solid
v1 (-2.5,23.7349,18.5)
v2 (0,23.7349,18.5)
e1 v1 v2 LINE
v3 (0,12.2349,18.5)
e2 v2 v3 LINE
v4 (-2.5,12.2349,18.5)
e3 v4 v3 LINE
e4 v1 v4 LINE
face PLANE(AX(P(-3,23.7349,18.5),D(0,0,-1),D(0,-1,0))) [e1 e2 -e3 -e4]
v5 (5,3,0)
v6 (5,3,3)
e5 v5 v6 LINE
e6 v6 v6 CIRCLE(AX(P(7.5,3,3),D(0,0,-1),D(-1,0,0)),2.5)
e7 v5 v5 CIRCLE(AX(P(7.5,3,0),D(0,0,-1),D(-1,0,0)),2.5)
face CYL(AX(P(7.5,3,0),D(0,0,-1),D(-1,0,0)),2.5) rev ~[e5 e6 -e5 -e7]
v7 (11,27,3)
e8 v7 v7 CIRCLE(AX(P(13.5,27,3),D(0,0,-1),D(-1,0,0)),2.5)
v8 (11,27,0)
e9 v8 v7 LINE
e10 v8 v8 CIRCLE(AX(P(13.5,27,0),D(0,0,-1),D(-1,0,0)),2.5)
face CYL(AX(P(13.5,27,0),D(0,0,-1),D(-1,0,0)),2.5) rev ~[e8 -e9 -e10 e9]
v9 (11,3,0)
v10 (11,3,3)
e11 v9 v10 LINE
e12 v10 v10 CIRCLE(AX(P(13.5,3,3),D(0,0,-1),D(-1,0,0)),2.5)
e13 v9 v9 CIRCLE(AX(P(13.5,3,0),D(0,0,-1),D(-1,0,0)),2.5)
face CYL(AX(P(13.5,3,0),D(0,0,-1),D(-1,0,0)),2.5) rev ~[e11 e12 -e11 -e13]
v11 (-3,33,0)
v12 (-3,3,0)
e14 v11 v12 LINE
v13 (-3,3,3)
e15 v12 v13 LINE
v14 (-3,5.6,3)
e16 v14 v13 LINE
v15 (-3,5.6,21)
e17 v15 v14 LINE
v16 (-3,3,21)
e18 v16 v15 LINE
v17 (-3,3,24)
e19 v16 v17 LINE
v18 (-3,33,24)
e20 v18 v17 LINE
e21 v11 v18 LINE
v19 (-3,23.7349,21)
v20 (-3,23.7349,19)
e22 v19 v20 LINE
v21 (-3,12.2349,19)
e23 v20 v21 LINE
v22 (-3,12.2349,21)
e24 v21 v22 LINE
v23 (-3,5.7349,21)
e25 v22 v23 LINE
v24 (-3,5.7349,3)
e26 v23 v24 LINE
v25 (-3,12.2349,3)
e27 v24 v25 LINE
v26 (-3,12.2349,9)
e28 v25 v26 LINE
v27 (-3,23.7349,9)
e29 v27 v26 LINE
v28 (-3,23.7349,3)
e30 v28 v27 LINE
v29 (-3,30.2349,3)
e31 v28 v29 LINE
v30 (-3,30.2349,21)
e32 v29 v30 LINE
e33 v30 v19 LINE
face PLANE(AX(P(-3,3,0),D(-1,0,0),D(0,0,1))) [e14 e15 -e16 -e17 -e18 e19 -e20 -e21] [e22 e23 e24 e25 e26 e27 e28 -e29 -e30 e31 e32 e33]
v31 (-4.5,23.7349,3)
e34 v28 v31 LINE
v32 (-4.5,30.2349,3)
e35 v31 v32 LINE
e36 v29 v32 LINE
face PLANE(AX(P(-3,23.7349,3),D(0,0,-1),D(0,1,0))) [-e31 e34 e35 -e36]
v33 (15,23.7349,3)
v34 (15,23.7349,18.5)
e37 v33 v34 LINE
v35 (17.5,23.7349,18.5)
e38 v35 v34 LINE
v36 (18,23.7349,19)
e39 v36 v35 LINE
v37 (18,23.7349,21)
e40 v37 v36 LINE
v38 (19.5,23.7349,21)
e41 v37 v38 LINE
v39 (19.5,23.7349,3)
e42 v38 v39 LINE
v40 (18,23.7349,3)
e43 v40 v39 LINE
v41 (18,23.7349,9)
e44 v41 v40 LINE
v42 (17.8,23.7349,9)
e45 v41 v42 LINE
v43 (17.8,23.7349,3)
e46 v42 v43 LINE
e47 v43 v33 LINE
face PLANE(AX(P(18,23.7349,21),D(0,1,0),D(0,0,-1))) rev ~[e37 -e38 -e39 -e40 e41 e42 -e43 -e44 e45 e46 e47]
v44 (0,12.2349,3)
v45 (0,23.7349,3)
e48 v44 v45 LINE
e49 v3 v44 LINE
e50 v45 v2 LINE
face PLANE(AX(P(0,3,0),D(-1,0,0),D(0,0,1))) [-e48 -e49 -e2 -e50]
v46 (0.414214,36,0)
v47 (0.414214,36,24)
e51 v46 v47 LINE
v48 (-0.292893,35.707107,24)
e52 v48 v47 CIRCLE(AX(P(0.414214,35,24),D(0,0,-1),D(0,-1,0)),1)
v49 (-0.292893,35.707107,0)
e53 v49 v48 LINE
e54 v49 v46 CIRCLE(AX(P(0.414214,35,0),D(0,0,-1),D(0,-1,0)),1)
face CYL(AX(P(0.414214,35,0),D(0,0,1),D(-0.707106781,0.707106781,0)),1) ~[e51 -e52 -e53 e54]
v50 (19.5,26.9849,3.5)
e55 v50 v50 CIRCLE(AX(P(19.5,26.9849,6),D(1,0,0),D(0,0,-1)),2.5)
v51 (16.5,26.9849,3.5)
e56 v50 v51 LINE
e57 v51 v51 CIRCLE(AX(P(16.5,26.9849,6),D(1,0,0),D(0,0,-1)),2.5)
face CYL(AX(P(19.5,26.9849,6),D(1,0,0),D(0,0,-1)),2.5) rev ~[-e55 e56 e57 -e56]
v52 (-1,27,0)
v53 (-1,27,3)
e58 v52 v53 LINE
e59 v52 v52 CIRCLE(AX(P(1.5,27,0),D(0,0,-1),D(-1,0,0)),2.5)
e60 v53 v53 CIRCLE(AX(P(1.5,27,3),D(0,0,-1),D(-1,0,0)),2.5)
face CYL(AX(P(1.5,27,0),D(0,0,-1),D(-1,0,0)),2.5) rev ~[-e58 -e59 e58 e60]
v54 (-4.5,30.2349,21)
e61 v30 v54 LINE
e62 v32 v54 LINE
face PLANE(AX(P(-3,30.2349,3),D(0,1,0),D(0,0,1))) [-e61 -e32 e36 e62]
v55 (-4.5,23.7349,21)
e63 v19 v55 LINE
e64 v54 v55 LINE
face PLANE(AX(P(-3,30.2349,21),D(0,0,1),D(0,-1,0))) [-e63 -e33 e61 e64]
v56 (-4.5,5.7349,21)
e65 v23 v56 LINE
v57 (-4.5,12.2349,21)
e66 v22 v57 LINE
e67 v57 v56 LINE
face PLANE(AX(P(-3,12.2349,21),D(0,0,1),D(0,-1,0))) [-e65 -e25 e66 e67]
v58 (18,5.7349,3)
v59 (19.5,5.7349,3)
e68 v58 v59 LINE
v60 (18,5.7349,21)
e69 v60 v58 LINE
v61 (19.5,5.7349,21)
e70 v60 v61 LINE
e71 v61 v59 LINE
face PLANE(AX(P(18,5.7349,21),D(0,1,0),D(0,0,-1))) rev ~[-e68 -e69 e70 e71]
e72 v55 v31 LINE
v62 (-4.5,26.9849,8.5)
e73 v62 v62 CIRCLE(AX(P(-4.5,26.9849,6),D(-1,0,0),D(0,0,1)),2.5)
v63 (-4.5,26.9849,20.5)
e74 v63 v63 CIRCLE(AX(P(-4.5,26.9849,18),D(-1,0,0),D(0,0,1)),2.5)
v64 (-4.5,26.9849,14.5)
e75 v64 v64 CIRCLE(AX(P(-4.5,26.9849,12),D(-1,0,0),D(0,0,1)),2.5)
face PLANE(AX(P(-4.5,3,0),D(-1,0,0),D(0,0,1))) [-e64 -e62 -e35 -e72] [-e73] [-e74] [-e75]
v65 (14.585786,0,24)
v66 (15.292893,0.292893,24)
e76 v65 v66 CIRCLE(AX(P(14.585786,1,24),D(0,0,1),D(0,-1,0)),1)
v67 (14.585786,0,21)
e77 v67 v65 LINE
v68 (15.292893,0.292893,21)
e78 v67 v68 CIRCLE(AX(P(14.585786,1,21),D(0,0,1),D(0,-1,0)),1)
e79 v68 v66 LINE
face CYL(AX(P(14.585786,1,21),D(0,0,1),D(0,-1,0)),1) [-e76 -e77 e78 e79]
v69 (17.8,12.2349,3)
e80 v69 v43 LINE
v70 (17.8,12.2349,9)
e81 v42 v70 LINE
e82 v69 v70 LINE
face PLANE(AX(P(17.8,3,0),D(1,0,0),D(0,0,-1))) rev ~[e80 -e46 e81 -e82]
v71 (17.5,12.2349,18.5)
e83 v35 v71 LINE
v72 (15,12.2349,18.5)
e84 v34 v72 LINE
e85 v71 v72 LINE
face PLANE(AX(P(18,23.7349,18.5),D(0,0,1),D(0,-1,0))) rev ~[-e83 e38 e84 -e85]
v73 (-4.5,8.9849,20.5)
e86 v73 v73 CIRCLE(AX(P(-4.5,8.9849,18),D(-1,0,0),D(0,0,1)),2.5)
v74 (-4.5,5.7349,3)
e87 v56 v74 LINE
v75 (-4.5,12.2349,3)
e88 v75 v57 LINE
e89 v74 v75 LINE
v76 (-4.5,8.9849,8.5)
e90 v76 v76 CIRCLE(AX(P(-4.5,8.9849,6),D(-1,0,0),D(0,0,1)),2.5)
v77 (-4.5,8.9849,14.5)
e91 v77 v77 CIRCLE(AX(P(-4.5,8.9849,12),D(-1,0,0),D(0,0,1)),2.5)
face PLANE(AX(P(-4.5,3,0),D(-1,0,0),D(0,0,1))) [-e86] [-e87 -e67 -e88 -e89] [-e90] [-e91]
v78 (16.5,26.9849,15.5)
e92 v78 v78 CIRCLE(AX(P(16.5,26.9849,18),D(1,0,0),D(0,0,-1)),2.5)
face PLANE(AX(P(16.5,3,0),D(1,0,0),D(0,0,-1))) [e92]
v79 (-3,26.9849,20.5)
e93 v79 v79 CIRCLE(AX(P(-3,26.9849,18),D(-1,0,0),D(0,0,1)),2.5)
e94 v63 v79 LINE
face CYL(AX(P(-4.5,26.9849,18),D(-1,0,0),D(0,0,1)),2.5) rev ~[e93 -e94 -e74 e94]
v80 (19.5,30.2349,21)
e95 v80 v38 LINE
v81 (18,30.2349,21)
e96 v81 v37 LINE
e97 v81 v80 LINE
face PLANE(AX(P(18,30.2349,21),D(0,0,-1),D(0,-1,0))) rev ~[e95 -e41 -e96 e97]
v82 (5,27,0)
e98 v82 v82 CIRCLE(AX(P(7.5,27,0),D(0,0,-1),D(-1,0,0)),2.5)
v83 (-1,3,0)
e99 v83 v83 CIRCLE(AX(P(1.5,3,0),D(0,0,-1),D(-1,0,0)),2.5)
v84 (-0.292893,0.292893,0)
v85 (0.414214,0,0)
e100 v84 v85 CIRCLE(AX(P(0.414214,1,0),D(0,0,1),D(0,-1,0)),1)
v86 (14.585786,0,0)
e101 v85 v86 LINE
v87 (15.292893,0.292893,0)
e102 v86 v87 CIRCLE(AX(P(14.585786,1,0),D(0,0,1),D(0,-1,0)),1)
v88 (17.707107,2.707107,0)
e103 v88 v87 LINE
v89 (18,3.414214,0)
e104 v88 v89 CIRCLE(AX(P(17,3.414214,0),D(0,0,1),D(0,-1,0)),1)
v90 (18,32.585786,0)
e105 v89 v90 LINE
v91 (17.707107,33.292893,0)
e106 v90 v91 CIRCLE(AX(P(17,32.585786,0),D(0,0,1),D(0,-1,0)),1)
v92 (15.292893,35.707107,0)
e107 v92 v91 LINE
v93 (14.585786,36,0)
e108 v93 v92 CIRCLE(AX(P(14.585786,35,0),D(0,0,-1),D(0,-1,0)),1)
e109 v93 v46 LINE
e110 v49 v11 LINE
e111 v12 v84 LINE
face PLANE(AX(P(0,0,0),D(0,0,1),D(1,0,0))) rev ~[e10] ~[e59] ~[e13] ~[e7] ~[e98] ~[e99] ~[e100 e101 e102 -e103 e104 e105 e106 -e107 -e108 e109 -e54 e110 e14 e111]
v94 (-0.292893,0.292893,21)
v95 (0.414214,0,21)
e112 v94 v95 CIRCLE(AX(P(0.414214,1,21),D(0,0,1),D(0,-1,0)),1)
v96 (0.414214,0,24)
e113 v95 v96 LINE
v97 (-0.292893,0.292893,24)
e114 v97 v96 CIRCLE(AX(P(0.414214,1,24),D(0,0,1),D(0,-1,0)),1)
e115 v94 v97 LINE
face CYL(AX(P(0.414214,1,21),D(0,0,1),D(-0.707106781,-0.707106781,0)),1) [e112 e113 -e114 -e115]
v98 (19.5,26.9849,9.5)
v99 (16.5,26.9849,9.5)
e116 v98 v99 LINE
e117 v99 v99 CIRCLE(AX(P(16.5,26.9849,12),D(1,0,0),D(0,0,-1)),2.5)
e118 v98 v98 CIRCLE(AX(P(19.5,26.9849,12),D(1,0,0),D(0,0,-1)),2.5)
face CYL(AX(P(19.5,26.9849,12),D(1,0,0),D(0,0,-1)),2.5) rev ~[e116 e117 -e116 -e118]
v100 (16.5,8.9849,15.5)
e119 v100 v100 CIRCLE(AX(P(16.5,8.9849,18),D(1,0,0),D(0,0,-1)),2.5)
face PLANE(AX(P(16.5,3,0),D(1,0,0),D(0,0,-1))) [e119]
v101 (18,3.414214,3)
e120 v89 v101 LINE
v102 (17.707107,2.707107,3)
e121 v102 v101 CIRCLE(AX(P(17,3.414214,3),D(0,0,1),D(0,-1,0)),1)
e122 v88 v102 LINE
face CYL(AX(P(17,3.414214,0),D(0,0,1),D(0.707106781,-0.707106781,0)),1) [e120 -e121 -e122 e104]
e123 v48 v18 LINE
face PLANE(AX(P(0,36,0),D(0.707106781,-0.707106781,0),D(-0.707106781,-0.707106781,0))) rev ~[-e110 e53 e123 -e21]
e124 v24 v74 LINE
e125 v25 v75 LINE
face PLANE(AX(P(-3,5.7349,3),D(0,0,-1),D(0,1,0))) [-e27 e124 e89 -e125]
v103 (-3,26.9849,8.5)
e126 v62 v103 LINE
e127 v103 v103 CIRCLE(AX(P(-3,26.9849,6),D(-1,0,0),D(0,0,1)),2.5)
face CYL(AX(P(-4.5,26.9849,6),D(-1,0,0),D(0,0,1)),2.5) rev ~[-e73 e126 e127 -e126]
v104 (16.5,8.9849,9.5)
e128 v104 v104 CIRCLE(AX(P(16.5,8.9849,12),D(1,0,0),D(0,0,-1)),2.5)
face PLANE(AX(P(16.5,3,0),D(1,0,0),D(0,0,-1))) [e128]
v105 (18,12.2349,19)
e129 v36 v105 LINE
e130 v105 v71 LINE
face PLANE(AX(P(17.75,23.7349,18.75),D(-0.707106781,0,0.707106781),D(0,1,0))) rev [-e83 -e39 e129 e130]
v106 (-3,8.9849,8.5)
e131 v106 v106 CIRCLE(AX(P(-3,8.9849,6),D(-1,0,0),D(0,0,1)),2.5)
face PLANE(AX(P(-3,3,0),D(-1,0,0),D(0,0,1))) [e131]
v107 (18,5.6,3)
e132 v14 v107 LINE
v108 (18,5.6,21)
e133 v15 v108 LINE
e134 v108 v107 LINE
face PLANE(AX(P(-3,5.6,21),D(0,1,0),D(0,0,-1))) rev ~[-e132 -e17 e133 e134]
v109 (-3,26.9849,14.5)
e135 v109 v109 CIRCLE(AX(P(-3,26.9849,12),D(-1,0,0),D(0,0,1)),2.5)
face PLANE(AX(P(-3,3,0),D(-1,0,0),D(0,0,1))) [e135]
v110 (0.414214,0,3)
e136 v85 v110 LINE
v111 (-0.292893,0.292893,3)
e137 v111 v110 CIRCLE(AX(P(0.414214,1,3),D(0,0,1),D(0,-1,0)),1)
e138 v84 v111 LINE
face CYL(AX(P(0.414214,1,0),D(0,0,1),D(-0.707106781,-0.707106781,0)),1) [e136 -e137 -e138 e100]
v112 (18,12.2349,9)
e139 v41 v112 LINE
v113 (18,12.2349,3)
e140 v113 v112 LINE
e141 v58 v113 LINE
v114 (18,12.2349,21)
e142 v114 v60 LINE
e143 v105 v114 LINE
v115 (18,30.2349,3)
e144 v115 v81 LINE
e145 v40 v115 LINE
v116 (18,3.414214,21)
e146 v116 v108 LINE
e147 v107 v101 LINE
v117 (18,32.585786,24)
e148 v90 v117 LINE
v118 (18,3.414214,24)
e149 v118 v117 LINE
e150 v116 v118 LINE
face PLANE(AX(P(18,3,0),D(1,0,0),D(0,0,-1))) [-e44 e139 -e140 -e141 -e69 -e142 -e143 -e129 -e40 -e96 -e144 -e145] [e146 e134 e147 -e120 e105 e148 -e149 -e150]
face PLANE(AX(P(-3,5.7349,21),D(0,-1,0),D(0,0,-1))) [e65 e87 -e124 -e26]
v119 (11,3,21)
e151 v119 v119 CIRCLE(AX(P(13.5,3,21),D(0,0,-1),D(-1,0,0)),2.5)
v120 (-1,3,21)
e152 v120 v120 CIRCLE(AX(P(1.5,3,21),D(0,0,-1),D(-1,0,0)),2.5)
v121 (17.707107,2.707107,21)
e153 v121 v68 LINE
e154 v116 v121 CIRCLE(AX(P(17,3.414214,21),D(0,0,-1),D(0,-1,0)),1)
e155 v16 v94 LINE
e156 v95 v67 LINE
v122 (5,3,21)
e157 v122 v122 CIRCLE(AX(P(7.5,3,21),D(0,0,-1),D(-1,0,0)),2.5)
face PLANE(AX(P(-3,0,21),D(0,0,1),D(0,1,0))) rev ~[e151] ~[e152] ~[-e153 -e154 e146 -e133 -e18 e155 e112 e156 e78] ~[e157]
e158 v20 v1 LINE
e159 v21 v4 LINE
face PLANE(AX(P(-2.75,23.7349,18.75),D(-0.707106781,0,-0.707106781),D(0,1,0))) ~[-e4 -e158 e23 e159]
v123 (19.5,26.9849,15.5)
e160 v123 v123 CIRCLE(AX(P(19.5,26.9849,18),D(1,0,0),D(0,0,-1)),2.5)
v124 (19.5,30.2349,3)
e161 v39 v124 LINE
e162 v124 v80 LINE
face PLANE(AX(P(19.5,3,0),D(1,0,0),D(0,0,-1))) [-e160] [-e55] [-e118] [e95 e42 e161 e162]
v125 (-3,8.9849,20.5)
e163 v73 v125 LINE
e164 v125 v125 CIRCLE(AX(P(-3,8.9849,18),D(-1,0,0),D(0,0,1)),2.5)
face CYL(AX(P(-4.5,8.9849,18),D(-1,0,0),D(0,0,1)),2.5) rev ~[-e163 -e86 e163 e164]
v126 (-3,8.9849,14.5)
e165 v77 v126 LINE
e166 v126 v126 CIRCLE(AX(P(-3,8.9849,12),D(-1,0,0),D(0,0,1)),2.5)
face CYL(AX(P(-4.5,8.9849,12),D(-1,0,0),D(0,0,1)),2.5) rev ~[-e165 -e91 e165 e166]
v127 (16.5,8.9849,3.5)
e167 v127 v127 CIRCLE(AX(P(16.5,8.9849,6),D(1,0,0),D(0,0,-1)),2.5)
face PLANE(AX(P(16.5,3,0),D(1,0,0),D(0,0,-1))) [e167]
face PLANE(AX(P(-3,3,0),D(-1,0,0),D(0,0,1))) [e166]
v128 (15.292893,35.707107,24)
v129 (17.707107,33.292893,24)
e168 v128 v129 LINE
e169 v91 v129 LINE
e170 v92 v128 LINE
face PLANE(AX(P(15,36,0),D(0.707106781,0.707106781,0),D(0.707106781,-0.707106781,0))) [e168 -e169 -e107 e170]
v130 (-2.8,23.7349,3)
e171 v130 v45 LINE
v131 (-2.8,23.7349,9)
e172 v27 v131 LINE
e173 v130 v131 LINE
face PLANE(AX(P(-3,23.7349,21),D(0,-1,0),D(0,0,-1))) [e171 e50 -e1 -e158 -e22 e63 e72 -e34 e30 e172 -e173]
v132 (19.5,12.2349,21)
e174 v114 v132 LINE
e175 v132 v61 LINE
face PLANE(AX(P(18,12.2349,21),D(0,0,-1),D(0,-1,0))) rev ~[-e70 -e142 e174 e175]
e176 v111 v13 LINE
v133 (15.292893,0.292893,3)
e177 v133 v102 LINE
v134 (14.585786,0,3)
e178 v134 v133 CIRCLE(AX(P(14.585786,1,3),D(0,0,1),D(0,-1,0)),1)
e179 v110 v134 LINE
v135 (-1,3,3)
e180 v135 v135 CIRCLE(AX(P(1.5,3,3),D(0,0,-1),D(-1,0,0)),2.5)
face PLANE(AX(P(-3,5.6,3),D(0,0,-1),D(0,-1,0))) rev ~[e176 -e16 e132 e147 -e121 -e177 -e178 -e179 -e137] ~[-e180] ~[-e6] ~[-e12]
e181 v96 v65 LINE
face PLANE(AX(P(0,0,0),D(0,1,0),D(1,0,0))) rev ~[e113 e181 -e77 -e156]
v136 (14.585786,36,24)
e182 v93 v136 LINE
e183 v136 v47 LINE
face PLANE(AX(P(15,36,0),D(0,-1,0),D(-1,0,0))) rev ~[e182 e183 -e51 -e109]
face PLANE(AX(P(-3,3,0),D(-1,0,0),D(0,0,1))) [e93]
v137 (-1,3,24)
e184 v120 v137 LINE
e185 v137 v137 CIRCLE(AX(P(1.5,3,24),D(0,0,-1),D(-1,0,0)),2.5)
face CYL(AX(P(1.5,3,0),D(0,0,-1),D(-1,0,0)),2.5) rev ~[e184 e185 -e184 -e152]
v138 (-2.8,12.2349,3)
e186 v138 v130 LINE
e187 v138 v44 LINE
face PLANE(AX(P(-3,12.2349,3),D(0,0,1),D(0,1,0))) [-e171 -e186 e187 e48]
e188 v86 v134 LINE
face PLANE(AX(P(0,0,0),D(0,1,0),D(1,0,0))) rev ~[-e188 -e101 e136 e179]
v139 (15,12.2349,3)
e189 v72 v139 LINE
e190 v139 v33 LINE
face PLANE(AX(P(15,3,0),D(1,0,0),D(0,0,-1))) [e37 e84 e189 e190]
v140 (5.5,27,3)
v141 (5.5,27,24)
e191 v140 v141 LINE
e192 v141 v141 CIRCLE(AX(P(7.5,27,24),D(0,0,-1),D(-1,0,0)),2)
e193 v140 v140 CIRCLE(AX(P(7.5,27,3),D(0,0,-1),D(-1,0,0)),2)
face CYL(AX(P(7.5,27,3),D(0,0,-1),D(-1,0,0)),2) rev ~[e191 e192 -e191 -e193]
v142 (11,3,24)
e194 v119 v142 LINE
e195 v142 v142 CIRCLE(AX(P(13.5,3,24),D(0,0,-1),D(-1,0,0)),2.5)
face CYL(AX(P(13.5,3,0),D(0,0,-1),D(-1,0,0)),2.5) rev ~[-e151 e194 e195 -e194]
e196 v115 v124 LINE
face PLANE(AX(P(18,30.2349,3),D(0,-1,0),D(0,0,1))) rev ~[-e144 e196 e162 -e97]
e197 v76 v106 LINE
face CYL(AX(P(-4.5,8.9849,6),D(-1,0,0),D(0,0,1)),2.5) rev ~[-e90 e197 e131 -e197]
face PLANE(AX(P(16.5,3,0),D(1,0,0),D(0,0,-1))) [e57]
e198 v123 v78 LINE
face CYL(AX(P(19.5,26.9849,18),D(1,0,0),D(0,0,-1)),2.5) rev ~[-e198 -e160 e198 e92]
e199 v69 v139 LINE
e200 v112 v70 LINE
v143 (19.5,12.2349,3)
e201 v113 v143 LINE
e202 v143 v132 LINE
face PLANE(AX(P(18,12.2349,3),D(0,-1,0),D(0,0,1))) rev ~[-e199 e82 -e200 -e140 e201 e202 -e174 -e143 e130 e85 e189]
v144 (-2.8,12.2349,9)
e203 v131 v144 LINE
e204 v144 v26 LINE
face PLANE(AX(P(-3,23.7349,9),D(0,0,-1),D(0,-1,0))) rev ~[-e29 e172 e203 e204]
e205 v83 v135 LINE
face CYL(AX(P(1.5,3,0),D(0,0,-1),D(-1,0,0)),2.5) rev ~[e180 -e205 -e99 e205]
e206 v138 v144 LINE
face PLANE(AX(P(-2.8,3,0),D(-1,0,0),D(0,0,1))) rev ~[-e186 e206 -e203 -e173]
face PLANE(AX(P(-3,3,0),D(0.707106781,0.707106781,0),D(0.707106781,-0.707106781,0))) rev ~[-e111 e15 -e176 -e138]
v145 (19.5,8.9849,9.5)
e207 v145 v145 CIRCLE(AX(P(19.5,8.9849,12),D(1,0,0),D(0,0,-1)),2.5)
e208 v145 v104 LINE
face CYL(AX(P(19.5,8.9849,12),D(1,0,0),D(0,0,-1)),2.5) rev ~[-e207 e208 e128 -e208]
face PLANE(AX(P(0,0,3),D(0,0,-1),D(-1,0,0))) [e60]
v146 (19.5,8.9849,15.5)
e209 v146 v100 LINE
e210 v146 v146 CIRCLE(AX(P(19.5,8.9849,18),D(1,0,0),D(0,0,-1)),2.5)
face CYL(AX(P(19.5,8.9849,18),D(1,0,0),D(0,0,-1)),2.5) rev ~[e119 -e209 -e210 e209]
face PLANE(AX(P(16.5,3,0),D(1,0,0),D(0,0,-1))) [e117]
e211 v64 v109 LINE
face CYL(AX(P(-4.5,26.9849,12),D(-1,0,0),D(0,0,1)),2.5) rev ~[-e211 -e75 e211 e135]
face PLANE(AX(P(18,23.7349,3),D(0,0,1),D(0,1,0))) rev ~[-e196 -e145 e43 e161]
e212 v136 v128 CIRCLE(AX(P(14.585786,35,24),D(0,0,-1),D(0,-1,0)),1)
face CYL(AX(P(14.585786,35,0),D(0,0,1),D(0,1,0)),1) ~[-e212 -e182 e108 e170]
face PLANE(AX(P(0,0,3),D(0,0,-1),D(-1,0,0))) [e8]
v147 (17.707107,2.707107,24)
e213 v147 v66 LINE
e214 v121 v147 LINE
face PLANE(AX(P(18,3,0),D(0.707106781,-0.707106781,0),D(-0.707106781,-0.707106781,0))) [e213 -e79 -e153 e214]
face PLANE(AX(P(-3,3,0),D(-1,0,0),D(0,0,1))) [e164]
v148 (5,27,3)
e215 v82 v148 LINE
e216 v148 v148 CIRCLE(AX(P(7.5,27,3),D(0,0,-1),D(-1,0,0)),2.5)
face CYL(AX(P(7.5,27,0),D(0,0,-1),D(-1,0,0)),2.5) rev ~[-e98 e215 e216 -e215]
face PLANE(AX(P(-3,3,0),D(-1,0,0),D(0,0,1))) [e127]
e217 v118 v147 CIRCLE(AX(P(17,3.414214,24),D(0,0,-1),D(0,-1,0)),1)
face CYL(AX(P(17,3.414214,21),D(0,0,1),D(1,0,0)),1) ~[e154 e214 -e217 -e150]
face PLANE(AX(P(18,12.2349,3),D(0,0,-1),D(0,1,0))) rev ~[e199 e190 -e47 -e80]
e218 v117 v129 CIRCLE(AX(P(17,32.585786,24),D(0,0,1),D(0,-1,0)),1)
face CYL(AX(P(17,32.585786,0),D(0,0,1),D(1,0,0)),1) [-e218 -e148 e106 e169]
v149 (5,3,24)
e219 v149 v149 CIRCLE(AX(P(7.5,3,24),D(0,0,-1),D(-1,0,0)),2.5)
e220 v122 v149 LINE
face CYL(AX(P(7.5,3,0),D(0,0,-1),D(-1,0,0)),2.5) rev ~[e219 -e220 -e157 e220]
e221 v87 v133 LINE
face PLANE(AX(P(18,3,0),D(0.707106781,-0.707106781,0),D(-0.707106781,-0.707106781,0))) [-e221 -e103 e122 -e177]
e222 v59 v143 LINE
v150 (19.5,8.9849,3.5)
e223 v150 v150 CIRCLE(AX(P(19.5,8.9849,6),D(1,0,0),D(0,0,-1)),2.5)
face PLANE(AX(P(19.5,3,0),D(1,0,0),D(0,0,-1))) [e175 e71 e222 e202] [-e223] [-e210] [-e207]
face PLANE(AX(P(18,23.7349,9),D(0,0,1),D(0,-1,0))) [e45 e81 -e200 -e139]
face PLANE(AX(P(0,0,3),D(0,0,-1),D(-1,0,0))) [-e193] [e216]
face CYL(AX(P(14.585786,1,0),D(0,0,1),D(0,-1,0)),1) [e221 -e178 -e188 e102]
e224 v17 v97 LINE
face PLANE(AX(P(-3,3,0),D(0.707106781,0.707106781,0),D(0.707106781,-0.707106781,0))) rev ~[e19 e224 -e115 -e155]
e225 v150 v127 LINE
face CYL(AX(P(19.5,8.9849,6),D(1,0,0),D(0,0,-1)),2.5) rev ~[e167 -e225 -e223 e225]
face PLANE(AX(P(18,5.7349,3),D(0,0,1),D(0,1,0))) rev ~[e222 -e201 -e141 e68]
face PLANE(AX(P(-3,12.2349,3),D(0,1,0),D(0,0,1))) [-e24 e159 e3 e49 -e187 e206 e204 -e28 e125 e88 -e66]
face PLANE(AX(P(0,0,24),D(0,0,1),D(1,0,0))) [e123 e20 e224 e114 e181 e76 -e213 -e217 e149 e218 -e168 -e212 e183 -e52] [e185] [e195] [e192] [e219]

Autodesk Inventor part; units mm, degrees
ref_plane "YZ Plane" through (0, 0, 0) normal (1, 0, 0) x (0, 1, 0)
ref_plane "XZ Plane" through (0, 0, 0) normal (0, 1, 0) x (-1, 0, 0)
ref_plane "XY Plane" through (0, 0, 0) normal (0, 0, 1) x (1, 0, 0)
sketch "Esquisse2" plane through (0, 0, 0) normal (0, 0, 1) x (1, 0, 0)
  line L0 (0, 0) -> (15, 0)
  line L1 (18, 3) -> (18, 33)
  line L2 (15, 36) -> (0, 36)
  line L3 (-3, 33) -> (-3, 3)
  line L4 (-3, 3) -> (0, 0)
  line L5 (0, 36) -> (-3, 33)
  line L6 (15, 36) -> (18, 33)
  line L7 (18, 3) -> (15, 0)
  line L8 (0, 36) -> (0, 0) construction
  line L9 (15, 0) -> (15, 36) construction
  line L10 (18, 33) -> (-3, 33) construction
  line L11 (18, 3) -> (-3, 3) construction
  dimension "d12" = 15
  dimension "d14" = 21
  dimension "d15" = 36
extrude "Extrusion1" add sketch "Esquisse2" along normal blind 24
sketch "Esquisse3" plane through (-3, 3, 0) normal (-1, 0, 0) x (0, 0, 1)
  line L0 (0, 0) -> (0, 30) construction
  line L1 (24, 30) -> (24, 0) construction
  line L2 (0, -3) -> (24, -3) construction
  line L3 (3, -3) -> (21, -3)
  line L4 (21, -3) -> (21, 2.6)
  line L5 (21, 2.6) -> (3, 2.6)
  line L6 (3, 2.6) -> (3, -3)
  line L7 (3, 2.6) -> (0, 2.6) construction
  line L8 (21, 2.6) -> (24, 2.6) construction
  dimension "d24" = 3
  dimension "d25" = 5.6
extrude "Extrusion2" cut sketch "Esquisse3" against normal through all
sketch "Esquisse4" plane through (0, 0, 0) normal (0, 0, -1) x (-1, 0, 0)
  line L0 (-15, 0) -> (0, 0) construction
  line L1 (0, 0) -> (3, 3) construction
  line L2 (0, 36) -> (-15, 36) construction
  circle A0 centre (-7.5, 3) radius 2.5
  line L3 (-15, 0) -> (-7.5, 3) construction
  line L4 (0, 0) -> (-7.5, 3) construction
  line L5 (-7.5, 3) -> (3, 3) construction
  circle A1 centre (-1.5, 3) radius 2.5
  circle A2 centre (-13.5, 3) radius 2.5
  circle A3 centre (-7.5, 3) radius 2.5
  dimension "d28" = 0.5
  dimension "d29" = 5
  dimension "d32" = 6
  dimension "d35" = 6
extrude "Extrusion3" cut sketch "Esquisse4" against normal through all
sketch "Esquisse5" plane through (0, 0, 0) normal (0, 0, -1) x (-1, 0, 0)
  circle A0 centre (-7.5, 3) radius 2.5 construction
  line L0 (3, 3) -> (3, 33) construction
  line L1 (0, 36) -> (-15, 36) construction
  line L2 (-7.5, 3) -> (-7.5, 36) construction
  circle A1 centre (-7.5, 27) radius 2.5
  line L3 (-7.5, 27) -> (3, 27) construction
  circle A2 centre (-1.5, 27) radius 2.5
  circle A3 centre (-13.5, 27) radius 2.5
  circle A4 centre (-7.5, 27) radius 2.5
  dimension "d40" = 5
  dimension "d41" = 24
  dimension "d44" = 6
  dimension "d47" = 6
extrude "Extrusion4" cut sketch "Esquisse5" against normal blind 3
sketch "Esquisse7" plane through (7.5, 27, 3) normal (0, 0, -1) x (-1, 0, 0)
  circle A0 centre (0, 0) radius 2.5 projected
  circle A1 centre (0, 0) radius 2
  point P0 (7.5, -27)
  dimension "d54" = 4
extrude "Extrusion6" cut sketch "Esquisse7" against normal through all contours A1
sketch "Esquisse8" plane through (18, 3, 0) normal (1, 0, 0) x (0, 0, -1)
  line L0 (0, 30) -> (0, 0) construction
  line L1 (0, 26.5) -> (0, 21.5) projected
  line L2 (-24, 21.4697) -> (-24, 26.4697) projected
  line L3 (-24, 23.9697) -> (0, 24) construction
  line L4 (-21, 20.7349) -> (-3, 20.7349)
  line L5 (-3, 20.7349) -> (-3, 27.2349)
  line L6 (-3, 27.2349) -> (-21, 27.2349)
  line L7 (-21, 27.2349) -> (-21, 20.7349)
  line L8 (-21, 20.7349) -> (-3, 27.2349) construction
  line L9 (-3, 20.7349) -> (-21, 27.2349) construction
  line L10 (-21, 2.6) -> (-3, 2.6) projected
  line L11 (-12, 23.9849) -> (-12, 2.6) construction
  line L12 (-21, 2.7349) -> (-3, 2.7349)
  line L13 (-3, 2.7349) -> (-3, 9.2349)
  line L14 (-3, 9.2349) -> (-21, 9.2349)
  line L15 (-21, 9.2349) -> (-21, 2.7349)
  point P0 (0, -3)
  dimension "d57" = 6.5
  dimension "d58" = 18
  dimension "d74" = 18
extrude "Extrusion7" add sketch "Esquisse8" along normal blind 1.5
sketch "Esquisse9" plane through (19.5, 3, 0) normal (1, 0, 0) x (0, 0, -1)
  line L0 (-3, 20.7349) -> (-3, 27.2349) construction
  line L1 (-21, 27.2349) -> (-21, 20.7349) construction
  line L2 (-21, 23.9849) -> (-3, 23.9849) construction
  circle A0 centre (-12, 23.9849) radius 2.5
  line L3 (-15, 23.9849) -> (3, 23.9849) construction
  circle A1 centre (-6, 23.9849) radius 2.5
  line L4 (-27, 23.9849) -> (-9, 23.9849) construction
  circle A2 centre (-18, 23.9849) radius 2.5
  line L5 (-21, 23.9849) -> (-3, 23.9849) construction
  circle A3 centre (-12, 23.9849) radius 2.5
  line L6 (-21, 20.7349) -> (-3, 20.7349) projected
  line L7 (-12, 23.9849) -> (-12, 11.4292) construction
  circle A4 centre (-12, 5.9849) radius 2.5
  circle A5 centre (-6, 5.9849) radius 2.5
  circle A6 centre (-18, 5.9849) radius 2.5
  point P0 (0, -3)
  dimension "d61" = 5
  dimension "d64" = 6
  dimension "d67" = 6
  dimension "d81" = 18
extrude "Extrusion8" cut sketch "Esquisse9" against normal blind 3
sketch "Esquisse10" plane through (-3, 3, 0) normal (-1, 0, 0) x (0, 0, 1)
  line L0 (3, 27.2349) -> (21, 27.2349) projected
  line L1 (21, 27.2349) -> (21, 20.7349) projected
  line L2 (21, 20.7349) -> (3, 20.7349) projected
  line L3 (3, 20.7349) -> (3, 27.2349) projected
  line L4 (21, 9.2349) -> (21, 2.7349) projected
  line L5 (21, 2.7349) -> (3, 2.7349) projected
  line L6 (3, 2.7349) -> (3, 9.2349) projected
  line L7 (3, 9.2349) -> (21, 9.2349) projected
  point P0 (0, -3)
extrude "Extrusion9" add sketch "Esquisse10" along normal blind 1.5
sketch "Esquisse11" plane through (-4.5, 3, 0) normal (-1, 0, 0) x (0, 0, 1)
  circle A0 centre (6, 23.9849) radius 2.5 projected
  circle A1 centre (12, 23.9849) radius 2.5 projected
  circle A2 centre (18, 23.9849) radius 2.5 projected
  circle A3 centre (18, 5.9849) radius 2.5 projected
  circle A4 centre (12, 5.9849) radius 2.5 projected
  circle A5 centre (6, 5.9849) radius 2.5 projected
  point P0 (0, -3)
extrude "Extrusion10" cut sketch "Esquisse11" against normal blind 1.5
sketch "Esquisse12" plane through (-3, 3, 0) normal (-1, 0, 0) x (0, 0, 1)
  line L0 (21, 27.2349) -> (21, 20.7349) projected
  line L1 (21, 20.7349) -> (3, 20.7349) projected
  line L2 (3, 20.7349) -> (3, 27.2349) projected
  line L3 (3, 27.2349) -> (21, 27.2349) projected
  line L4 (21, 2.7349) -> (3, 2.7349) projected
  line L5 (3, 2.7349) -> (3, 9.2349) projected
  line L6 (3, 9.2349) -> (21, 9.2349) projected
  line L7 (21, 9.2349) -> (21, 2.7349) projected
  line L8 (21, 2.6) -> (21, 0) projected
  line L9 (21, 0) -> (24, 0) projected
  line L10 (24, 30) -> (24, 0) projected
  line L11 (0, 30) -> (24, 30) projected
  line L12 (0, 0) -> (0, 30) projected
  line L13 (0, 0) -> (3, 0) projected
  line L14 (3, 0) -> (3, 2.6) projected
  line L15 (3, 2.6) -> (21, 2.6) projected
  point P0 (0, -3)
sketch "Esquisse13" plane through (18, 3, 0) normal (1, 0, 0) x (0, 0, -1)
  line L0 (-21, 9.2349) -> (-3, 9.2349) projected
  line L1 (-3, 20.7349) -> (-18.5, 20.7349)
  line L2 (-18.5, 20.7349) -> (-18.5, 9.2349)
  line L3 (-18.5, 9.2349) -> (-3, 9.2349)
  line L4 (-3, 9.2349) -> (-3, 20.7349)
  point P0 (0, -3)
  dimension "d90" = 15.5
extrude "Extrusion11" cut sketch "Esquisse13" against normal blind 3
sketch "Esquisse14" plane through (18, 3, 0) normal (1, 0, 0) x (0, 0, -1)
  line L0 (-21, 20.7349) -> (-3, 20.7349) projected
  line L1 (-3, 9.2349) -> (-21, 9.2349) projected
  line L2 (-3, 20.7349) -> (-9, 20.7349)
  line L3 (-9, 20.7349) -> (-9, 9.2349)
  line L4 (-9, 9.2349) -> (-3, 9.2349)
  line L5 (-3, 9.2349) -> (-3, 20.7349)
  point P0 (0, -3)
  dimension "d93" = 6
extrude "Extrusion12" add sketch "Esquisse14" against normal blind 0.2
sketch "Esquisse16" plane through (-3, 3, 0) normal (-1, 0, 0) x (0, 0, 1)
  line L0 (3, 9.2349) -> (21, 9.2349) construction
  line L1 (3, 20.7349) -> (18.5, 20.7349)
  line L2 (18.5, 20.7349) -> (18.5, 9.2349)
  line L3 (18.5, 9.2349) -> (3, 9.2349)
  line L4 (3, 9.2349) -> (3, 20.7349)
  point P0 (0, -3)
  dimension "d96" = 15.5
extrude "Extrusion13" cut sketch "Esquisse16" against normal blind 3
sketch "Esquisse17" plane through (-3, 3, 0) normal (-1, 0, 0) x (0, 0, 1)
  line L0 (3, 20.7349) -> (9, 20.7349)
  line L1 (9, 20.7349) -> (9, 9.2197)
  line L2 (9, 9.2197) -> (3, 9.2197)
  line L3 (3, 9.2197) -> (3, 20.7349)
  line L4 (3, 9.2349) -> (3, 20.7349) projected
  point P0 (0, -3)
  dimension "d99" = 6
extrude "Extrusion14" add sketch "Esquisse17" against normal blind 0.2
fillet "Congé1" radius 1 9 edges at (18, 33, 12) (15, 36, 12) (0, 36, 12) (0, 0, 1.5) (0, 0, 22.5) (15, 0, 1.5) (18, 3, 1.5) (15, 0, 22.5) (18, 3, 22.5)
chamfer "Chanfrein1" distance 0.5 angle 45 2 edges at (-3, 17.9849, 18.5) (18, 17.9849, 18.5)
sketch "Esquisse18" plane through (0, 0, 24) normal (0, 0, 1) x (1, 0, 0)
  circle A0 centre (7.5, 27) radius 2 projected
  circle A1 centre (1.5, 3) radius 2.5 projected
  circle A2 centre (7.5, 3) radius 2.5 projected
  circle A3 centre (13.5, 3) radius 2.5 projected
  arc A4 (17.7071, 2.7071) -> (18, 3.4142) centre (17, 3.4142) ccw projected
  line L0 (18, 3.4142) -> (18, 32.5858) projected
  arc A5 (18, 32.5858) -> (17.7071, 33.2929) centre (17, 32.5858) ccw projected
  line L1 (17.7071, 33.2929) -> (15.2929, 35.7071) projected
  arc A6 (15.2929, 35.7071) -> (14.5858, 36) centre (14.5858, 35) ccw projected
  line L2 (14.5858, 36) -> (0.4142, 36) projected
  arc A7 (0.4142, 36) -> (-0.2929, 35.7071) centre (0.4142, 35) ccw projected
  line L3 (-0.2929, 35.7071) -> (-3, 33) projected
  line L4 (-3, 33) -> (-3, 3) projected
  line L5 (-3, 3) -> (-0.2929, 0.2929) projected
  arc A8 (-0.2929, 0.2929) -> (0.4142, 0) centre (0.4142, 1) ccw projected
  line L6 (0.4142, 0) -> (14.5858, 0) projected
  arc A9 (14.5858, 0) -> (15.2929, 0.2929) centre (14.5858, 1) ccw projected
  line L7 (15.2929, 0.2929) -> (17.7071, 2.7071) projected
  line L8 (19.5, 11.4849) -> (19.5, 6.4849) projected
  line L9 (19.5, 8.9849) -> (4.268, 8.9849) construction
  point P0 (0, 0)
properties part number "Motor"
